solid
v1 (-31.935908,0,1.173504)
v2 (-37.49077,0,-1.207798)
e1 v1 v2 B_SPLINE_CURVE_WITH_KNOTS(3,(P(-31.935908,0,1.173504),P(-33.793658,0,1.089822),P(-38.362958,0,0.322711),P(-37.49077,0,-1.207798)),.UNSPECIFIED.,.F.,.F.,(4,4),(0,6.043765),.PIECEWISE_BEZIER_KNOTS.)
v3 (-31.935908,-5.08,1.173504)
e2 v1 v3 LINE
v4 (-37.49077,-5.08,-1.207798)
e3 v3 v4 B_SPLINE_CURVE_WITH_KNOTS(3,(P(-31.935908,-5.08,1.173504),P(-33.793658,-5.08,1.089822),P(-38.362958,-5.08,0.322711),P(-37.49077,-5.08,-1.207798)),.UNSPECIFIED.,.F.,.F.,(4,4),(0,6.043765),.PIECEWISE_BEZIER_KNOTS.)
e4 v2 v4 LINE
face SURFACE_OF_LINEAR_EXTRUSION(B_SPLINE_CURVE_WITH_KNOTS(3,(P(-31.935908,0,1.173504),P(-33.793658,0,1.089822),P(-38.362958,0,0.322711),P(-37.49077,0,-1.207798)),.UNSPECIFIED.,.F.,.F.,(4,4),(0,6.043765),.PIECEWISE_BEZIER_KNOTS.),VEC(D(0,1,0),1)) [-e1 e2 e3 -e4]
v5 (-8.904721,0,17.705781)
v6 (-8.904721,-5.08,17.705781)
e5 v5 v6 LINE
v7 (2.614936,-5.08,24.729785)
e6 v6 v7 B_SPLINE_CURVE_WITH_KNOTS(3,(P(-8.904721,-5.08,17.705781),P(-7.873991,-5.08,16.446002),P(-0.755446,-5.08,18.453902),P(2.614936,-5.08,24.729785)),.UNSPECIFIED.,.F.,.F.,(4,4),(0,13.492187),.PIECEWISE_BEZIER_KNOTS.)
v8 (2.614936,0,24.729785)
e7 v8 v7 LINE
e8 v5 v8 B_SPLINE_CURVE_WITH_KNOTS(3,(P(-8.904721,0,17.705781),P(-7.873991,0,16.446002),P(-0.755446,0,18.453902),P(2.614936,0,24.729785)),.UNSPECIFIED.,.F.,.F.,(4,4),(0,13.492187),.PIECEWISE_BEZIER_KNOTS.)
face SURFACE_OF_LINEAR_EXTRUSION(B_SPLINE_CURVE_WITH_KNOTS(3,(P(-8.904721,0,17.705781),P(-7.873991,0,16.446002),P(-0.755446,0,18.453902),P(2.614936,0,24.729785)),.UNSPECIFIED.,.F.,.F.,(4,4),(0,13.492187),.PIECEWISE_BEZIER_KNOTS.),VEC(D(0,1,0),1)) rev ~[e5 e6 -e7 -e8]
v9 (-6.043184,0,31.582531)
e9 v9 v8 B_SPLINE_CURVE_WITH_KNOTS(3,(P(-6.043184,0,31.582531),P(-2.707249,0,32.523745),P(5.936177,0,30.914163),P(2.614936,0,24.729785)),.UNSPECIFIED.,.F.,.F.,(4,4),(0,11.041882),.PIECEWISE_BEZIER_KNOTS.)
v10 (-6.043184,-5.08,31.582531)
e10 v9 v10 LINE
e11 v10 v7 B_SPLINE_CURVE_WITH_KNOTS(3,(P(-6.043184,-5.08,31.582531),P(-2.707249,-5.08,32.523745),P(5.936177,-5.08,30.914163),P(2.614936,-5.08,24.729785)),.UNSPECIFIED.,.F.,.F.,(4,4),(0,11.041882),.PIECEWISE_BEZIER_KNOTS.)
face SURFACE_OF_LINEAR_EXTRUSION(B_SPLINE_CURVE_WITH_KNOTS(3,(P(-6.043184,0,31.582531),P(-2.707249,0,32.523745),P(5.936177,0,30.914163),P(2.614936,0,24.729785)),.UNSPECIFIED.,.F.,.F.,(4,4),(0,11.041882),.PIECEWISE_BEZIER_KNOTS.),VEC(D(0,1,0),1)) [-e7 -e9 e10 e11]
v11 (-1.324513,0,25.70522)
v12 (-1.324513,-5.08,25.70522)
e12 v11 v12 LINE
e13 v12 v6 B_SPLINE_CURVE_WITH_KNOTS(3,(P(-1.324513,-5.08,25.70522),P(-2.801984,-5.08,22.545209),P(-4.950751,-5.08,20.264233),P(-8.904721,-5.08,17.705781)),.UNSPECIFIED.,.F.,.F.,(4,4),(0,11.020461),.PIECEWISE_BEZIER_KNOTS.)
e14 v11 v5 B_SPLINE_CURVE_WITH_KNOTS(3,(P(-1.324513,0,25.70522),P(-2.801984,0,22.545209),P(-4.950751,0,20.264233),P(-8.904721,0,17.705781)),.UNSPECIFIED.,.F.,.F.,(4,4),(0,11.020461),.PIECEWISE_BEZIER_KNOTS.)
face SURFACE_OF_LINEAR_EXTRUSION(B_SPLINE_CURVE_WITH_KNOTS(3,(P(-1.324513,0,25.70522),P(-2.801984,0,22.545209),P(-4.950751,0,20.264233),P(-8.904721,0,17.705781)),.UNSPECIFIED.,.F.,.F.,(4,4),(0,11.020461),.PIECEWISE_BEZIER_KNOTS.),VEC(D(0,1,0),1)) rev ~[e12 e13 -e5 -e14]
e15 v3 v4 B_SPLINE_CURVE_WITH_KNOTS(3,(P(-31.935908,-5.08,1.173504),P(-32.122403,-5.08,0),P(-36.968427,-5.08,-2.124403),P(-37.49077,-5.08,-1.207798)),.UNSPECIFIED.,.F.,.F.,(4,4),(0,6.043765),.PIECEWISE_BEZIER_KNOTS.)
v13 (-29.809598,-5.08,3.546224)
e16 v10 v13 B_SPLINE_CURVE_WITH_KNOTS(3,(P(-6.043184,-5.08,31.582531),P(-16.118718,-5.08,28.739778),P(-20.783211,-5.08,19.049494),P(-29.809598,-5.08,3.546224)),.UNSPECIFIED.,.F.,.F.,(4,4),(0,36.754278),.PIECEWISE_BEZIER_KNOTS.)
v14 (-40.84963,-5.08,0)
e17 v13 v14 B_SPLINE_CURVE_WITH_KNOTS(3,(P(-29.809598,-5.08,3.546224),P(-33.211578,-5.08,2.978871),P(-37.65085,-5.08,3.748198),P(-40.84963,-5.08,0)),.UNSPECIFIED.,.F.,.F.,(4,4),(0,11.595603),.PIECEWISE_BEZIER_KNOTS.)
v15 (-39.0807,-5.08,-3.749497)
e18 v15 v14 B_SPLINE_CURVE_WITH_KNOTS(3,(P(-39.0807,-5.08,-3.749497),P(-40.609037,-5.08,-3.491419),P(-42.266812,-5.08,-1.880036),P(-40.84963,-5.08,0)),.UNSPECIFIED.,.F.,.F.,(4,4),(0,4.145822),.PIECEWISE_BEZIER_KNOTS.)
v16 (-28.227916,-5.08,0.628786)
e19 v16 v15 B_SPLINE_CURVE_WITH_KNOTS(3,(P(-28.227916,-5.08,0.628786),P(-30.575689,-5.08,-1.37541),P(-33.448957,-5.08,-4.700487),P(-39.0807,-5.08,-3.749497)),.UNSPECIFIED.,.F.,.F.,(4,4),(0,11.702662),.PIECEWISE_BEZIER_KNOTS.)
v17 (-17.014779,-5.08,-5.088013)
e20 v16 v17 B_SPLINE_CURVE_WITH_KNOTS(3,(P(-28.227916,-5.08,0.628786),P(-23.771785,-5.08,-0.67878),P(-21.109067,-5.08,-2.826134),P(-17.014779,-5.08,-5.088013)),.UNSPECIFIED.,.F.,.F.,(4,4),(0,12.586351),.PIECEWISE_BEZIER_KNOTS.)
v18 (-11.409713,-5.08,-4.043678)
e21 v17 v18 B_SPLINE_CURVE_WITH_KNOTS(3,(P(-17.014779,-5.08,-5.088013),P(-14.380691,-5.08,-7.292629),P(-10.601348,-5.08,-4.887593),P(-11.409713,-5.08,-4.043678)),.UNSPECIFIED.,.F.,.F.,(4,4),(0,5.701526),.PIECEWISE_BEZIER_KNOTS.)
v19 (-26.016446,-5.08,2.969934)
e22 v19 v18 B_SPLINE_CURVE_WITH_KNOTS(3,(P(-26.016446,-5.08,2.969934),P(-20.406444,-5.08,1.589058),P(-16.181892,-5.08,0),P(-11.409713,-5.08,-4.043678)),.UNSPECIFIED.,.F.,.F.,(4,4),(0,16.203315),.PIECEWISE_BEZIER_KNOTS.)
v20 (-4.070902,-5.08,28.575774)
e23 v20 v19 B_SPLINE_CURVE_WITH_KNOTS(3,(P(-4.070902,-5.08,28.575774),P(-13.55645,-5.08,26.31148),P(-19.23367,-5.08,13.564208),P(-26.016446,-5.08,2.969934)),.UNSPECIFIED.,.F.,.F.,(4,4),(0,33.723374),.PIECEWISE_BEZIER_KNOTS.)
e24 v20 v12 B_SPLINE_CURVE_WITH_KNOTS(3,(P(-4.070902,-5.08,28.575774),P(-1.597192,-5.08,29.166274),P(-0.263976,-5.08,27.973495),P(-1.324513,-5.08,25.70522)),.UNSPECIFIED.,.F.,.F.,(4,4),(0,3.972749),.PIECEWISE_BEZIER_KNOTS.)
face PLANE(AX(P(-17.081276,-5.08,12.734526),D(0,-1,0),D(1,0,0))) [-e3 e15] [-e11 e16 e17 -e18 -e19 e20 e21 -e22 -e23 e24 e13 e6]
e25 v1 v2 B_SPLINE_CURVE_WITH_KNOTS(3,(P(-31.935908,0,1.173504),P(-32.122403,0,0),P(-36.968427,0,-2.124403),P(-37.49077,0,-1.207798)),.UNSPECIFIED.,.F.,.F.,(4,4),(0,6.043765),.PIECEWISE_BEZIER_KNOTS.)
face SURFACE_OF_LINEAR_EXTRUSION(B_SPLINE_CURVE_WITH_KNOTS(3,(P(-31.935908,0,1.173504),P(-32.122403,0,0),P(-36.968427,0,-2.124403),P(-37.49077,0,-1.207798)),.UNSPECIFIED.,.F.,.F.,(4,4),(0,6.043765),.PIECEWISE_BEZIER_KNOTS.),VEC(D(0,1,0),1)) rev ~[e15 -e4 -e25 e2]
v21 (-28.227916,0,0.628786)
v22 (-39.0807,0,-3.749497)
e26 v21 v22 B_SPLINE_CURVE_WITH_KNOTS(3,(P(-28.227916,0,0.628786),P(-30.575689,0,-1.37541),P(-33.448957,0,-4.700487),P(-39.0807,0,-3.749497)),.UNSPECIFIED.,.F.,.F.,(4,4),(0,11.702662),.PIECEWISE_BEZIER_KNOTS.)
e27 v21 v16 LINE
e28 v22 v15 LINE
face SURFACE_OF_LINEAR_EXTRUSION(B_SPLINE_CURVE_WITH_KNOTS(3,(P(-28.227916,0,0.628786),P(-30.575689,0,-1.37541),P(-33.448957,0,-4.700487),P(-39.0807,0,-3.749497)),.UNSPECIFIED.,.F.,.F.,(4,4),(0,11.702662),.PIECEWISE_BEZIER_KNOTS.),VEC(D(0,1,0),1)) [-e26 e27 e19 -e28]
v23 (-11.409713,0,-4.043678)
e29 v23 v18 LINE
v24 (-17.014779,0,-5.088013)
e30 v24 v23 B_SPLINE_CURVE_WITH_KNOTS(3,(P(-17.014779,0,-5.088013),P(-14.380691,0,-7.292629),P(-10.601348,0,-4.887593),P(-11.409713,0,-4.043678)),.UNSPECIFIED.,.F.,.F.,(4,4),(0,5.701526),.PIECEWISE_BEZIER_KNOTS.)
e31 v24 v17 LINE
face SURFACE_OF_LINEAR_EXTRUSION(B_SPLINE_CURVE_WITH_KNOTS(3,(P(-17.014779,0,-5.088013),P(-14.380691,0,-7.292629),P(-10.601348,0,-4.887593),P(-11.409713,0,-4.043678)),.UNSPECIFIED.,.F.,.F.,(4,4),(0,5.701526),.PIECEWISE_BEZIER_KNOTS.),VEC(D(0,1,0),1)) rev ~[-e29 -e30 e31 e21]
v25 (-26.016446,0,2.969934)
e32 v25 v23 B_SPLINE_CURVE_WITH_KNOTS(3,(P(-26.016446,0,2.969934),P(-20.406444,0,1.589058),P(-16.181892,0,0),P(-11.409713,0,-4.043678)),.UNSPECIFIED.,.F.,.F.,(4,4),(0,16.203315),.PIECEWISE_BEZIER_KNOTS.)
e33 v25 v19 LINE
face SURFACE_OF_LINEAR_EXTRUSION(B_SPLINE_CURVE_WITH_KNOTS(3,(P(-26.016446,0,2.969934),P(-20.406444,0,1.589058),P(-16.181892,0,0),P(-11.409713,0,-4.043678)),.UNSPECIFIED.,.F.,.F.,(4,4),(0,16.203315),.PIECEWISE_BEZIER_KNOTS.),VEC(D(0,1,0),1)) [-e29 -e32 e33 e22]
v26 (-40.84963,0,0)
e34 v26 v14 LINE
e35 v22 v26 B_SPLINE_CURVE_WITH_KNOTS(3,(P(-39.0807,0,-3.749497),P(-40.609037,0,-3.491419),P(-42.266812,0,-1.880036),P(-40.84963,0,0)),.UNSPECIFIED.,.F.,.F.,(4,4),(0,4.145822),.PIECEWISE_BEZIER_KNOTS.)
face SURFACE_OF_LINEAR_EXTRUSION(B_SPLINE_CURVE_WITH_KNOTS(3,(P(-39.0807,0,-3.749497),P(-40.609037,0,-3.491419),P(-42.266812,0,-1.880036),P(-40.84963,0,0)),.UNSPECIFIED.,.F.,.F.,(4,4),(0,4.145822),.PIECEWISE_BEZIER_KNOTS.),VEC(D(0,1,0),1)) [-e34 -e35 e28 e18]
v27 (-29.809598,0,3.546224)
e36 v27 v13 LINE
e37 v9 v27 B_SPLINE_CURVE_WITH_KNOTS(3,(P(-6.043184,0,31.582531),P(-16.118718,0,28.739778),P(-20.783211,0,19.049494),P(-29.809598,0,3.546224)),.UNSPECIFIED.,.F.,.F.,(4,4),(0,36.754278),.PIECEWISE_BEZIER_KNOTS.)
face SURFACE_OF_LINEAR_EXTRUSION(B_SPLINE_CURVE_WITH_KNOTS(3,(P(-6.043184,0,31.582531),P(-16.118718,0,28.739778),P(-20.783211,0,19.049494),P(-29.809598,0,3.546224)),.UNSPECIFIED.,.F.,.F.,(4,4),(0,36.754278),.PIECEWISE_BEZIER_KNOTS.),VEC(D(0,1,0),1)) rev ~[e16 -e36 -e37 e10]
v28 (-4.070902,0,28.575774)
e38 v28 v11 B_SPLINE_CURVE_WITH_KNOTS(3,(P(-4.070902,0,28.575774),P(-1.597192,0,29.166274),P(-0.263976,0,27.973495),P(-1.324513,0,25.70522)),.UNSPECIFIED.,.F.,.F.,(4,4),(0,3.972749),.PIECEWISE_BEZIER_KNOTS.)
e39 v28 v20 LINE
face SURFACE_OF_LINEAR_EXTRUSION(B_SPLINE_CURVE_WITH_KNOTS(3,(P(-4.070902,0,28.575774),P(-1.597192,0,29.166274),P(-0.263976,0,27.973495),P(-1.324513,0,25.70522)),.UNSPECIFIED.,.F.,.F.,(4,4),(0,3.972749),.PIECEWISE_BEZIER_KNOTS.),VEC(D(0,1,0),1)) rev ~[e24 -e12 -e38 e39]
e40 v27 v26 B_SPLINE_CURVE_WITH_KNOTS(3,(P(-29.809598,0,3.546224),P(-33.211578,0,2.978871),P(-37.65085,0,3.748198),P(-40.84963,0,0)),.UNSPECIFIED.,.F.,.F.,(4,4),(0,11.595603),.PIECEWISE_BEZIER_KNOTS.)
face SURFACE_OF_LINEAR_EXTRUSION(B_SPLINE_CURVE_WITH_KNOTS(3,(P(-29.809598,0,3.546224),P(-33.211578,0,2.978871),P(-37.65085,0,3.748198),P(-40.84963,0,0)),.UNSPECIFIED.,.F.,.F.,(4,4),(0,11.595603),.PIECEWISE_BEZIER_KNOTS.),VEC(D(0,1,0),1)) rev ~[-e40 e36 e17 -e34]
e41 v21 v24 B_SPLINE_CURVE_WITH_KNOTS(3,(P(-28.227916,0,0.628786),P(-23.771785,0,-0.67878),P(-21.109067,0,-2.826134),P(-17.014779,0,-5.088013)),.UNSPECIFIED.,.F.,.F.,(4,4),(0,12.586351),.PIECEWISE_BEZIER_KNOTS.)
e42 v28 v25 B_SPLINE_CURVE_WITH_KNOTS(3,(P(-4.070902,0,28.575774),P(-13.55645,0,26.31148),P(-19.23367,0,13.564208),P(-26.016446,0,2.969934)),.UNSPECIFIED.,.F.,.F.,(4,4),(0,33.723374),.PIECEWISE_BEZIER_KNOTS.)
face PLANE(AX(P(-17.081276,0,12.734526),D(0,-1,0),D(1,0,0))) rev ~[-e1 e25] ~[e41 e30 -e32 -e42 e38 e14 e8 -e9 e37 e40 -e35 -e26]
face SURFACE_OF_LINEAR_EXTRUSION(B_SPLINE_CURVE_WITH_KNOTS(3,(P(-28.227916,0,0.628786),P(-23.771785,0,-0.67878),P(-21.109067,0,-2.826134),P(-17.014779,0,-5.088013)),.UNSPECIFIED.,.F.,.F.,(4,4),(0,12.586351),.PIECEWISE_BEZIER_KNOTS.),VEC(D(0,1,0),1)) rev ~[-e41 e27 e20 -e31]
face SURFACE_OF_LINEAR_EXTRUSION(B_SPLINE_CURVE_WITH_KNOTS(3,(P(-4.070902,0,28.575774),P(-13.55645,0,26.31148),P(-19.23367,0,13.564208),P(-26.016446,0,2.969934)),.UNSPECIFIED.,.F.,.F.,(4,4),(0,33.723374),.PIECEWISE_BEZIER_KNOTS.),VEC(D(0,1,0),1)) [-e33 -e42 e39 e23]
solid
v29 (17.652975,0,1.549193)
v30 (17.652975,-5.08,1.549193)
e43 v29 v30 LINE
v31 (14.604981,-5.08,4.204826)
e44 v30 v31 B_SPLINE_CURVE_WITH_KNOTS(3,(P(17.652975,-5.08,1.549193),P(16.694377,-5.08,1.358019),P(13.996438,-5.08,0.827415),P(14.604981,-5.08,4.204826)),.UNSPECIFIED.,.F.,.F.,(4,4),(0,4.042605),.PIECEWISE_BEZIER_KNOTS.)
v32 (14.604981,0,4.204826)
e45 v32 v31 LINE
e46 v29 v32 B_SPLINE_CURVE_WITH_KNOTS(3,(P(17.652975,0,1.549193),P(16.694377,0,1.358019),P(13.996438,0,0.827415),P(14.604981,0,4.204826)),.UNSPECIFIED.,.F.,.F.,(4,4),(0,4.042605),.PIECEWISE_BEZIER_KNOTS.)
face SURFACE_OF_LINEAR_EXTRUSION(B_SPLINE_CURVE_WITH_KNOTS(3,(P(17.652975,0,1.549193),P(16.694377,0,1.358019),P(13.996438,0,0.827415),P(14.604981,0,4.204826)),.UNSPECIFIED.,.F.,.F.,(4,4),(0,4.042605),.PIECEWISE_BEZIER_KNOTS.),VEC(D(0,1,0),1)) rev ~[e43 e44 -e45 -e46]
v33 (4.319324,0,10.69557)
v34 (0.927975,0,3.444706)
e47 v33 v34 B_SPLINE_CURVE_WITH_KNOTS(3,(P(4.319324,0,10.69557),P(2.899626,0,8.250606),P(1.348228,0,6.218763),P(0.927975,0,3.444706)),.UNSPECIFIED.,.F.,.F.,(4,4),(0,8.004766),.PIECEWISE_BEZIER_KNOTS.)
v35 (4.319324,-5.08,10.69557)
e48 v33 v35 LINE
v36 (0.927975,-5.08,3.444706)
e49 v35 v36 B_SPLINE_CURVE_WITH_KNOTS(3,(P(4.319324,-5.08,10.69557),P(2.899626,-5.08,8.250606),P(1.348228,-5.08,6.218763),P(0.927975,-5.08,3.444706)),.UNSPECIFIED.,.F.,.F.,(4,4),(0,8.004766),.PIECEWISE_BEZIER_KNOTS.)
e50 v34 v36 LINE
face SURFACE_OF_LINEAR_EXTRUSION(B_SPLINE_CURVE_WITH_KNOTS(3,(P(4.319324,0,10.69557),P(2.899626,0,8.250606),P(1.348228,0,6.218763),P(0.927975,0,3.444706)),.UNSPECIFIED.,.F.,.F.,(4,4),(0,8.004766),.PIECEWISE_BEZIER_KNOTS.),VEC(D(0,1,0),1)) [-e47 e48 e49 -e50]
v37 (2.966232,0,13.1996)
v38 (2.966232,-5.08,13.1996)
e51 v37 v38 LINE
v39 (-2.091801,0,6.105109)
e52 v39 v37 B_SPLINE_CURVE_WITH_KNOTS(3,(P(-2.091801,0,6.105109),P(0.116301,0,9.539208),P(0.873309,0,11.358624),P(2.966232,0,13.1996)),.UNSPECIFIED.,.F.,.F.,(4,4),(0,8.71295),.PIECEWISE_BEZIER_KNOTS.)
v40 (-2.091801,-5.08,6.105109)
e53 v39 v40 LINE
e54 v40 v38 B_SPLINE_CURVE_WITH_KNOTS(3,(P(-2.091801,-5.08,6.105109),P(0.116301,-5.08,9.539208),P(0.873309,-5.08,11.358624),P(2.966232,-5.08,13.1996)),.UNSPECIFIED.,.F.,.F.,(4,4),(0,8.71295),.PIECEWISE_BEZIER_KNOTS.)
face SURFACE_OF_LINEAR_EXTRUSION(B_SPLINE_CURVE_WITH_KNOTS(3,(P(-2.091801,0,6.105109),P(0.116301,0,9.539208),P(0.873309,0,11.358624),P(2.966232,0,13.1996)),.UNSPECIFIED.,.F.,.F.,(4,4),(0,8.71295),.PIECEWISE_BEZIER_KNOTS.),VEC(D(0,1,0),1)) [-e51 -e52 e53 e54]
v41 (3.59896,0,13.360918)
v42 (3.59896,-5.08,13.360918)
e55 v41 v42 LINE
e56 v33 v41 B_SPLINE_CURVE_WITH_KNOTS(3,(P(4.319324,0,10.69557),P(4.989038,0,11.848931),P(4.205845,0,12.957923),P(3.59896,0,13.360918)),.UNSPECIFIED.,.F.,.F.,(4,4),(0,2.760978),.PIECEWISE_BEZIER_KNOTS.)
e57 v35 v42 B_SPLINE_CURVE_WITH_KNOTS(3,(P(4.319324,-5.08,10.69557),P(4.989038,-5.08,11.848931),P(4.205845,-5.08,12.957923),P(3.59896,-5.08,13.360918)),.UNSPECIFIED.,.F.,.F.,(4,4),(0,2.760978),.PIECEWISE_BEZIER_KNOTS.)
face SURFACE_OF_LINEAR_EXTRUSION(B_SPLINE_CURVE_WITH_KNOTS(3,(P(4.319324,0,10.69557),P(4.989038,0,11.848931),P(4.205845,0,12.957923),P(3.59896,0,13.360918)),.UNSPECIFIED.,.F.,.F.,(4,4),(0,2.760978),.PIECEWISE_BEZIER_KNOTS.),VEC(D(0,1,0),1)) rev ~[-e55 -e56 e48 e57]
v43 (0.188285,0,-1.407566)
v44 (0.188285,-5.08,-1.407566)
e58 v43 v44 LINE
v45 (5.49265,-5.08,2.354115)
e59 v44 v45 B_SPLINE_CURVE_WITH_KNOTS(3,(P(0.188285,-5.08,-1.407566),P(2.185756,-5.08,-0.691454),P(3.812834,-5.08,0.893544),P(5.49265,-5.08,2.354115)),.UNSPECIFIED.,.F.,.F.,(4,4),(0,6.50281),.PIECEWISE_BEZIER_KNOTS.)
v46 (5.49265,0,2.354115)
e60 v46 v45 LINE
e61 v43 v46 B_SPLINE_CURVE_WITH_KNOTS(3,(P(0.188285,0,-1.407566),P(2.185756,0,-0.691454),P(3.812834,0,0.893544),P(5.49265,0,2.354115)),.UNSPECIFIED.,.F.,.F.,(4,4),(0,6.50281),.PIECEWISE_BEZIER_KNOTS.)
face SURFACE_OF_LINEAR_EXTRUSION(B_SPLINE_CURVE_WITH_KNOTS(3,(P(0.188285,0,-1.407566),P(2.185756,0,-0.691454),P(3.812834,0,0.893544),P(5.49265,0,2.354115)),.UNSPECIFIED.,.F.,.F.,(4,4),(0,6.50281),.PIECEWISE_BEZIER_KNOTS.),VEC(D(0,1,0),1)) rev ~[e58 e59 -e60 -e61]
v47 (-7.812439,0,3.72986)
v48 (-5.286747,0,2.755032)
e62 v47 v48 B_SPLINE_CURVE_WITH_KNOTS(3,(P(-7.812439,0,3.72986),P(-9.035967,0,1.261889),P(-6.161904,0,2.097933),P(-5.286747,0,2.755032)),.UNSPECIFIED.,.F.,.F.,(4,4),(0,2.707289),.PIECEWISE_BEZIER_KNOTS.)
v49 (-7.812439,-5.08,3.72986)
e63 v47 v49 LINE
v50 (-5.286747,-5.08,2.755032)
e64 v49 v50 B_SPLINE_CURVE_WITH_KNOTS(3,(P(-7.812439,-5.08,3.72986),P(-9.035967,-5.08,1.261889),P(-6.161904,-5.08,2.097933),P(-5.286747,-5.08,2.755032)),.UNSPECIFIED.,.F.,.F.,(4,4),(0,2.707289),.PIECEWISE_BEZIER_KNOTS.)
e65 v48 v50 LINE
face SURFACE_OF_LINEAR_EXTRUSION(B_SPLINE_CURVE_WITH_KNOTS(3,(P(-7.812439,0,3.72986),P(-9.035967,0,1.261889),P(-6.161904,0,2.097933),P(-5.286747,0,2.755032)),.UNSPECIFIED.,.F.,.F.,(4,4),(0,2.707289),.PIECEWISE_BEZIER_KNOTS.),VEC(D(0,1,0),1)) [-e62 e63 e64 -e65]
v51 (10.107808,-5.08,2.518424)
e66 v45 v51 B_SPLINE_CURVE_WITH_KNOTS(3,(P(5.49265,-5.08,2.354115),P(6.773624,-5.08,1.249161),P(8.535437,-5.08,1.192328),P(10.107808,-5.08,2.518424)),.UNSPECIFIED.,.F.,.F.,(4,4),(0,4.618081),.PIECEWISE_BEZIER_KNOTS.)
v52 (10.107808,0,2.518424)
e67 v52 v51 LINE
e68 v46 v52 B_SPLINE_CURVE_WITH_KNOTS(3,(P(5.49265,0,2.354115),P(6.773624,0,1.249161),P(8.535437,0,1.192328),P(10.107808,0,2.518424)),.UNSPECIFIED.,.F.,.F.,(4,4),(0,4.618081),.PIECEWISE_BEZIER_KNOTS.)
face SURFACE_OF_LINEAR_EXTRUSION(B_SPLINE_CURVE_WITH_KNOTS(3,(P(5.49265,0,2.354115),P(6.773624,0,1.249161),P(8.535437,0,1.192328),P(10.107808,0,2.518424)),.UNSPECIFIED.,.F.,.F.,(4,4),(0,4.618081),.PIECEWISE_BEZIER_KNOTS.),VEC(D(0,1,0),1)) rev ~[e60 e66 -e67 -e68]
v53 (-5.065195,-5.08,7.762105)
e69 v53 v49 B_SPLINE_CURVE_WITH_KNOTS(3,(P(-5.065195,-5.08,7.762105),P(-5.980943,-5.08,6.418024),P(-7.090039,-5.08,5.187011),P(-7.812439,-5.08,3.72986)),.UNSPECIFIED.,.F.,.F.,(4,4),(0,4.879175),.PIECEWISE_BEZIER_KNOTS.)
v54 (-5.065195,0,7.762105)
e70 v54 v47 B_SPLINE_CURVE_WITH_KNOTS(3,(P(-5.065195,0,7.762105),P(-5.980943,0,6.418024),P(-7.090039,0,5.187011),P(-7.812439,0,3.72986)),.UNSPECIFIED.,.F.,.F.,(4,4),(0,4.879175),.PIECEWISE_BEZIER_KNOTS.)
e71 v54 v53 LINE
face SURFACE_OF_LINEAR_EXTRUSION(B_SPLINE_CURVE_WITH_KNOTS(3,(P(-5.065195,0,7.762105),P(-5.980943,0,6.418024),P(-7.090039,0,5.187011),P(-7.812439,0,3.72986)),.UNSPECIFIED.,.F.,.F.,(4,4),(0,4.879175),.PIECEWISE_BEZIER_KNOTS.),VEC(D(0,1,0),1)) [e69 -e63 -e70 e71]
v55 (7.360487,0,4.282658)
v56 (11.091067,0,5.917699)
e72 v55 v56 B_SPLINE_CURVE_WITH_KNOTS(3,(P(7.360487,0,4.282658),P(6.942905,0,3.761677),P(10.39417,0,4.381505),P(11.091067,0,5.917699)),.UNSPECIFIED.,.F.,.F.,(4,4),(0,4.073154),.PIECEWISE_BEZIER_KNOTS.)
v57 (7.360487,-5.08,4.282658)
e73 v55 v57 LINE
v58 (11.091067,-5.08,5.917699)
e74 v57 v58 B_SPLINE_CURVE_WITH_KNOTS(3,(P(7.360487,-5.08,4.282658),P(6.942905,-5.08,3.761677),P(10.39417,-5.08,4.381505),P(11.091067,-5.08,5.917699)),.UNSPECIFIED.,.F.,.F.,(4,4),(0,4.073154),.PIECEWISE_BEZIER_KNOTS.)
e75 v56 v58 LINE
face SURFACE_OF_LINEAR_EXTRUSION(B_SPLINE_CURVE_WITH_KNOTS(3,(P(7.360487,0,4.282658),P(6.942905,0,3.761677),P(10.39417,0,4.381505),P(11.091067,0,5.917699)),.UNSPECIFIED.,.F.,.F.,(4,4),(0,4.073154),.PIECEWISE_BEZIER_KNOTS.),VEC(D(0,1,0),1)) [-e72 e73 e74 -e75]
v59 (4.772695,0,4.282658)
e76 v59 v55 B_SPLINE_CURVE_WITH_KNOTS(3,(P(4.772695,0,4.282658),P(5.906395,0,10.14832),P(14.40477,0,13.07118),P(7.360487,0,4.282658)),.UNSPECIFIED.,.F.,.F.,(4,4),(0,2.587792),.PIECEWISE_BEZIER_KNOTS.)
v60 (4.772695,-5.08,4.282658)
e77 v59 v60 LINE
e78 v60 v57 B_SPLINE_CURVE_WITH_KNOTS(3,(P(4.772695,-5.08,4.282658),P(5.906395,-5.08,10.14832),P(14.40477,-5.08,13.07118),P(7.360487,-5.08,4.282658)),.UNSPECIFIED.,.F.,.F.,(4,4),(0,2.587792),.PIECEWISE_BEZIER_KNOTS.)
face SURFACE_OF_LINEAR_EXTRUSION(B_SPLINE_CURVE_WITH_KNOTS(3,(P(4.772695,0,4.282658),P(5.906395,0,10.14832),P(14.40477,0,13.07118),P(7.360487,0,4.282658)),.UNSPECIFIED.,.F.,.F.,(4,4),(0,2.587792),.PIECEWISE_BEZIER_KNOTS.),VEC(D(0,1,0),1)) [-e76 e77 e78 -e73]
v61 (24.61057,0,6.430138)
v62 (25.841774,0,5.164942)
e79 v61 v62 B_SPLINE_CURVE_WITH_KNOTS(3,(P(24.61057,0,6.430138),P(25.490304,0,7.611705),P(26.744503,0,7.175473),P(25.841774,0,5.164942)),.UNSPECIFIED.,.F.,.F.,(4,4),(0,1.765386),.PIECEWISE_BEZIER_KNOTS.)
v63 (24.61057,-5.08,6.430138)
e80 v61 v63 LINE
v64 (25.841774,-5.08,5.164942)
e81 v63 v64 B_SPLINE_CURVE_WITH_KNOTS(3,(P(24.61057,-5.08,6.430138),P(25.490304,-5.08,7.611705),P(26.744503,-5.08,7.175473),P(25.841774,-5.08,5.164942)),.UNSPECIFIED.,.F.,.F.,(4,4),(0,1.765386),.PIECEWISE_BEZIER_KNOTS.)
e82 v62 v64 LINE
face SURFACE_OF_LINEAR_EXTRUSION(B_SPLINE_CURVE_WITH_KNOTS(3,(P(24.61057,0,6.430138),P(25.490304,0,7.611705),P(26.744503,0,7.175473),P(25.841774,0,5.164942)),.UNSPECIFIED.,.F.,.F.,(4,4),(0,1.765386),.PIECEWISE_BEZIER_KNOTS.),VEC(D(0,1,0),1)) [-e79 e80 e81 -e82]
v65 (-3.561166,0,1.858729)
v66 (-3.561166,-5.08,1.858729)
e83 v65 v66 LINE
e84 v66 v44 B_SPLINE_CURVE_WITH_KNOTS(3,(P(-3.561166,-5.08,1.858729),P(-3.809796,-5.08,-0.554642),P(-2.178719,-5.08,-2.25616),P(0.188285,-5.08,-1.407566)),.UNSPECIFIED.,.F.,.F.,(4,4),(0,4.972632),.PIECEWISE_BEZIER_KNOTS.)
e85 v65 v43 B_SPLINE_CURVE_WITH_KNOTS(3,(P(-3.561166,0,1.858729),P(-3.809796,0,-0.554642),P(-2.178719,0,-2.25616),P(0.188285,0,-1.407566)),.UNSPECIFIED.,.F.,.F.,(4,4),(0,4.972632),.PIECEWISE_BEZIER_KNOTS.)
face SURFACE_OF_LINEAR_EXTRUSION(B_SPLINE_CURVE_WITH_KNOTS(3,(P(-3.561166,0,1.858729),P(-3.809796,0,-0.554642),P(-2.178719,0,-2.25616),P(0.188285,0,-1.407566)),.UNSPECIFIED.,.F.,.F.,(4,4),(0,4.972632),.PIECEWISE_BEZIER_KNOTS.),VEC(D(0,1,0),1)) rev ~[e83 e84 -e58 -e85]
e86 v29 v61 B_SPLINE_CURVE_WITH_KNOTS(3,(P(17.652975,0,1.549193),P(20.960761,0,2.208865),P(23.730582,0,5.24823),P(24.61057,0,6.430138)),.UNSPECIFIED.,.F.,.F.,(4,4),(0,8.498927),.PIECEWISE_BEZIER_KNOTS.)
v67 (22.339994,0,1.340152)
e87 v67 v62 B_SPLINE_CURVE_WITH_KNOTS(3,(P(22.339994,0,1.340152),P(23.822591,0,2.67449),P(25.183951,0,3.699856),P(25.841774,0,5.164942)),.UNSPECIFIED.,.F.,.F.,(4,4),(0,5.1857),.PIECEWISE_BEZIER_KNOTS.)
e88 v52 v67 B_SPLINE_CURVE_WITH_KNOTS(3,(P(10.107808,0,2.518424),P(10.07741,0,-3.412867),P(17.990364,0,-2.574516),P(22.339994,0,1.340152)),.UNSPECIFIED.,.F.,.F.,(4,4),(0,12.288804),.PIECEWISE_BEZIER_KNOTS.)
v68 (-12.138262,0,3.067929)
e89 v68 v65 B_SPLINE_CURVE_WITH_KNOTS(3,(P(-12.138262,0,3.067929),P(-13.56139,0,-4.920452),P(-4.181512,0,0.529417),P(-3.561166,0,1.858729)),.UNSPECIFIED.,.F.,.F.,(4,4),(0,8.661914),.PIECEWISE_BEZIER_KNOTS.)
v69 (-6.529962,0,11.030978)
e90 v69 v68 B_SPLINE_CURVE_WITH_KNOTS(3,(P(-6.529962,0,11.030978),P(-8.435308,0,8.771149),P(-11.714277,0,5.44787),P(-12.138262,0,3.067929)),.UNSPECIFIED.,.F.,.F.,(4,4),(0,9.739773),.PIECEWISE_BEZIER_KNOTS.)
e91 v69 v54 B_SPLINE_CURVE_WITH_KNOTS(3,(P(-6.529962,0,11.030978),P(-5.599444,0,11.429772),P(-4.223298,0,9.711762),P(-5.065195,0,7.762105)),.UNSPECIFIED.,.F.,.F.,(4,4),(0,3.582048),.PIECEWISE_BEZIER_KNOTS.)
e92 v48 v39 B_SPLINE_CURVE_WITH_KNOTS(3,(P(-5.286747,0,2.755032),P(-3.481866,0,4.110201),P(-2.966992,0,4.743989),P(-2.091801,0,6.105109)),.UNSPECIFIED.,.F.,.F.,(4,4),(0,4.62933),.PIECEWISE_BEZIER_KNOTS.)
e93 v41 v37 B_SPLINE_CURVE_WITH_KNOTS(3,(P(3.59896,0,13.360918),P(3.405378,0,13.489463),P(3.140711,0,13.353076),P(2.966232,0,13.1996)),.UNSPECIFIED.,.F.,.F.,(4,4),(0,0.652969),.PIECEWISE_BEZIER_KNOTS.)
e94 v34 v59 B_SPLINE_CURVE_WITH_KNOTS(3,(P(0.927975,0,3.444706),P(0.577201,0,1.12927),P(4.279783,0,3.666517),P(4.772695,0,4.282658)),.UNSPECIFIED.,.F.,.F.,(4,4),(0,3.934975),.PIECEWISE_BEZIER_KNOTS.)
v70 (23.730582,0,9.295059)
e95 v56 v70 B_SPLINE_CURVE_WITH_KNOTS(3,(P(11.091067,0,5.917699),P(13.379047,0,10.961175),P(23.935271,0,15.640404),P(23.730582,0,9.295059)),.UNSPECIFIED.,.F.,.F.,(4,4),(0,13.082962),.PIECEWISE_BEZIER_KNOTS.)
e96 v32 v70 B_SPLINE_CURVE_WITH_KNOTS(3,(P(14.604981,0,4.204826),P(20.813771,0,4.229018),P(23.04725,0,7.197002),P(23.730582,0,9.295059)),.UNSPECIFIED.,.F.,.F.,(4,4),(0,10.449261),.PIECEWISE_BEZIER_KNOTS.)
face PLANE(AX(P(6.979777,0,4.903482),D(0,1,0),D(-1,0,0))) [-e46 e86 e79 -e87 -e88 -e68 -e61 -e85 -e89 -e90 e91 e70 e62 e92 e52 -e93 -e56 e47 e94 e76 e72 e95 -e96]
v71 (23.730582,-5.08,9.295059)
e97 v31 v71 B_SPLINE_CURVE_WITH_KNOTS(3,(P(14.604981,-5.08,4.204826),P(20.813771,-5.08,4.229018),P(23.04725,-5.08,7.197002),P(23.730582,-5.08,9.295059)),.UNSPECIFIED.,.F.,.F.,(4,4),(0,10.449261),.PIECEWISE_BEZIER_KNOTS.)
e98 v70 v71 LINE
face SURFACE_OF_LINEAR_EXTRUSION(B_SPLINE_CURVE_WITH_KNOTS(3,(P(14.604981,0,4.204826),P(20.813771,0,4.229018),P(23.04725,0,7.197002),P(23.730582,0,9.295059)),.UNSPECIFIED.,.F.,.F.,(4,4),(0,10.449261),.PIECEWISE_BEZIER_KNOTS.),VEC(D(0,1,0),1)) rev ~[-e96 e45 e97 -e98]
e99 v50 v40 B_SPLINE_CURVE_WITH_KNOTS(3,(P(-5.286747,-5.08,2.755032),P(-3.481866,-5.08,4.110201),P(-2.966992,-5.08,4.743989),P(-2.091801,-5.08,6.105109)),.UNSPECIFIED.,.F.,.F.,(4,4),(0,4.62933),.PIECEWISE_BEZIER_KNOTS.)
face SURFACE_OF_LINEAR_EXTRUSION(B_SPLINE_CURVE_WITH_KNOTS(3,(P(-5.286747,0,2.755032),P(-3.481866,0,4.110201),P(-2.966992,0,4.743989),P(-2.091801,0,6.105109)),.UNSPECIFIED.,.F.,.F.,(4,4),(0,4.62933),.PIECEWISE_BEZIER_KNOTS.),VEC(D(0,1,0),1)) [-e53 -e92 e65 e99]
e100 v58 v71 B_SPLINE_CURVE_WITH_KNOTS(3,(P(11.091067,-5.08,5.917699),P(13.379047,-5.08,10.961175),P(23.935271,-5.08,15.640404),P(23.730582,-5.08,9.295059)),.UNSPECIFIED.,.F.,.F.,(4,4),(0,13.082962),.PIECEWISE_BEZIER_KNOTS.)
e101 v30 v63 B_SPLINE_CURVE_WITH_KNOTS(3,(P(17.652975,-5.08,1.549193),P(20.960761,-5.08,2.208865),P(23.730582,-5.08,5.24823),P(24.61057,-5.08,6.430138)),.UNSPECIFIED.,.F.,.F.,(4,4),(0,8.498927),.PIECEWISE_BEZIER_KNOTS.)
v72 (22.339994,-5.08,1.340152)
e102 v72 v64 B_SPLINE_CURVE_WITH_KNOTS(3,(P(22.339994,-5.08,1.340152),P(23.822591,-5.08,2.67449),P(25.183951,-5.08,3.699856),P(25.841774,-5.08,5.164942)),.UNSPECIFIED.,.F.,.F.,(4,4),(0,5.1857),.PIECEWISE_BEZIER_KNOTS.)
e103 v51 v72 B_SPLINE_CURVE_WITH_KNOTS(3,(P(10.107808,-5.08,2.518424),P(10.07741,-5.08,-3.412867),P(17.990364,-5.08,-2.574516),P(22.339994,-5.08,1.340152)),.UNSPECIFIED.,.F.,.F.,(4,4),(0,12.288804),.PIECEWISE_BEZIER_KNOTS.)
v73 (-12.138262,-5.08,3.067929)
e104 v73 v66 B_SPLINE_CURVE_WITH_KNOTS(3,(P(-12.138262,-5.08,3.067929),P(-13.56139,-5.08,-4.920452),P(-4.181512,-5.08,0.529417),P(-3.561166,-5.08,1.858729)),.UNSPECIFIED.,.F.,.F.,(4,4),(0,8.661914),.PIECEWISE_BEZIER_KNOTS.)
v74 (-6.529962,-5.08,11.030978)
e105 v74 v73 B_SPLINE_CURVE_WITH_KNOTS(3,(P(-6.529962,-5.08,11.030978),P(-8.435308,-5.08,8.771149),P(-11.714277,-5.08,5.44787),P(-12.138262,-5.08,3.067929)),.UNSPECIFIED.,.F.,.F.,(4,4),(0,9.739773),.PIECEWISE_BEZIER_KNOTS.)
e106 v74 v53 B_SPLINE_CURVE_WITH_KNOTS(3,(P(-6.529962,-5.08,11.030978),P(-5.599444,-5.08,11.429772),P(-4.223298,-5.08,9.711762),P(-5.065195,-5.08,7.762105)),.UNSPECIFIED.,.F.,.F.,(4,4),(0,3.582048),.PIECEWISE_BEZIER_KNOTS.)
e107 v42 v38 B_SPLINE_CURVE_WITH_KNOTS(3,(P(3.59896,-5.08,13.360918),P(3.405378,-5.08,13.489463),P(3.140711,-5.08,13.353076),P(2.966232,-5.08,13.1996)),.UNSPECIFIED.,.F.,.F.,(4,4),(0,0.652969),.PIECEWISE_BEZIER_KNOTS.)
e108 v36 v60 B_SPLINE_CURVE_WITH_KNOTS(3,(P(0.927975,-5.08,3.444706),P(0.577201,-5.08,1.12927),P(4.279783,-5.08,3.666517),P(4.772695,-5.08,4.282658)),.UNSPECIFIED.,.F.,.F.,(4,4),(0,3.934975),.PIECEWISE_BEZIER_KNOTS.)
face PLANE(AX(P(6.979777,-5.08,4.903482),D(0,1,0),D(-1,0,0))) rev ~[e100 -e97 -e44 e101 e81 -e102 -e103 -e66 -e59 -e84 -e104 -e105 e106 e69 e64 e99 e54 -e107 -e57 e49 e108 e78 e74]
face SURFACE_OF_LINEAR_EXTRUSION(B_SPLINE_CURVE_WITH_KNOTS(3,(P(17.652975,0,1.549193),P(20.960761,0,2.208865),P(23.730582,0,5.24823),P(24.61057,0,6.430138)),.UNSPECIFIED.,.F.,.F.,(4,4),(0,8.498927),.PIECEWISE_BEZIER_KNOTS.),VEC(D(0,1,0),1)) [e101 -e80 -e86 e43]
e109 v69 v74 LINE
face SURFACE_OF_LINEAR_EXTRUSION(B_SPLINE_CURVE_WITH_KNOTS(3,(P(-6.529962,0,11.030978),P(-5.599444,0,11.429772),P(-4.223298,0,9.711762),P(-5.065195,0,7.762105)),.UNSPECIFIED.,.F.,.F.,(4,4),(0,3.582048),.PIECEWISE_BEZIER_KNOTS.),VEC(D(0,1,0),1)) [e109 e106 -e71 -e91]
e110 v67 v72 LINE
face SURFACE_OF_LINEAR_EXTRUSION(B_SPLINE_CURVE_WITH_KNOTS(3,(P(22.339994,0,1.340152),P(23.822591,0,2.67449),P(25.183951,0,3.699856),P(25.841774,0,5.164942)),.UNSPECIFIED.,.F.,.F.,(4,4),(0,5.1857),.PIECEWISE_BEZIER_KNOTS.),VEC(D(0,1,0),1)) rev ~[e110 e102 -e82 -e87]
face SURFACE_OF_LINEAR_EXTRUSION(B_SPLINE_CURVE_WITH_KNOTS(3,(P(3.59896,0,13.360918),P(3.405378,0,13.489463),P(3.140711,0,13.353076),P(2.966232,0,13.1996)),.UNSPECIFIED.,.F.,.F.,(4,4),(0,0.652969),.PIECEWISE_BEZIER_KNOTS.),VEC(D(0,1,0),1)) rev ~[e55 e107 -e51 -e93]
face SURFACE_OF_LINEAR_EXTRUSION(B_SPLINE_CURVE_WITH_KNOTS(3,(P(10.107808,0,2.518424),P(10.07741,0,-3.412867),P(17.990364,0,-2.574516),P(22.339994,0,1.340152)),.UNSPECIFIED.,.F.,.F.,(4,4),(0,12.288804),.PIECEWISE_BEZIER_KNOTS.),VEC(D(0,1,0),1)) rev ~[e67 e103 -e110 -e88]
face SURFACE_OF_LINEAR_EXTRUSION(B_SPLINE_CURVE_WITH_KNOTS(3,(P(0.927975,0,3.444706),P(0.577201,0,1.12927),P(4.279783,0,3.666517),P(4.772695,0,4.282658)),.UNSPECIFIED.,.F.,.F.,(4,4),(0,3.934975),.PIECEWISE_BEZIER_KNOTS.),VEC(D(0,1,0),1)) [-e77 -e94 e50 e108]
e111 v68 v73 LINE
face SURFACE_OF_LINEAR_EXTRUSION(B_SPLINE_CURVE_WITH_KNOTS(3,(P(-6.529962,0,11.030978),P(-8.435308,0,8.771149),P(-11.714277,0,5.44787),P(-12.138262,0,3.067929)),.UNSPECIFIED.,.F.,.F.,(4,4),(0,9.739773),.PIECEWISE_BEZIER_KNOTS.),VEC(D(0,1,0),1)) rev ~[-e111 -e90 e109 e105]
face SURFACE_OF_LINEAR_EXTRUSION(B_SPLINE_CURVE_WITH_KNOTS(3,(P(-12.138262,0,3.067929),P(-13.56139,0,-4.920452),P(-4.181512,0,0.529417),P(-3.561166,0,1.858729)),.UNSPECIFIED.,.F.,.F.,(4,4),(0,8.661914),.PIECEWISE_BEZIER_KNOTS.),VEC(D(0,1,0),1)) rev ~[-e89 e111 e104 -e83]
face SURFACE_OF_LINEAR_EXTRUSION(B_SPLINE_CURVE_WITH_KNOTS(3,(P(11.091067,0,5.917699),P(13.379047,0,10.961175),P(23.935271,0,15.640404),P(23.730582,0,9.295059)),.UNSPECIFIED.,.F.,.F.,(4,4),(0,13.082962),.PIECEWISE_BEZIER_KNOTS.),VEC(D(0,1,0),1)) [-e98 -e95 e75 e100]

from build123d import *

# Parameters (mm, degrees)
F1_DEPTH = 5.08
F3_DEPTH = 5.08


with BuildPart() as f1:
    # F0 (on Front) → F1 (new body)
    with BuildSketch(Plane.XZ):
        with BuildLine():
            add(Edge.make_bspline(
                [(-1.324513, 25.70522), (-2.801984, 22.545209), (-4.950751, 20.264233), (-8.904721, 17.705781)],
                knots=[0, 0, 0, 0, 11.020461, 11.020461, 11.020461, 11.020461], degree=3))
            add(Edge.make_bspline(
                [(-8.904721, 17.705781), (-7.873991, 16.446002), (-0.755446, 18.453902), (2.614936, 24.729785)],
                knots=[0, 0, 0, 0, 13.492187, 13.492187, 13.492187, 13.492187], degree=3))
            add(Edge.make_bspline(
                [(-6.043184, 31.582531), (-2.707249, 32.523745), (5.936177, 30.914163), (2.614936, 24.729785)],
                knots=[0, 0, 0, 0, 11.041882, 11.041882, 11.041882, 11.041882], degree=3))
            add(Edge.make_bspline(
                [(-6.043184, 31.582531), (-16.118718, 28.739778), (-20.783211, 19.049494), (-29.809598, 3.546224)],
                knots=[0, 0, 0, 0, 36.754278, 36.754278, 36.754278, 36.754278], degree=3))
            add(Edge.make_bspline(
                [(-29.809598, 3.546224), (-33.211578, 2.978871), (-37.65085, 3.748198), (-40.84963, 0)],
                knots=[0, 0, 0, 0, 11.595603, 11.595603, 11.595603, 11.595603], degree=3))
            add(Edge.make_bspline(
                [(-39.0807, -3.749497), (-40.609037, -3.491419), (-42.266812, -1.880036), (-40.84963, 0)],
                knots=[0, 0, 0, 0, 4.145822, 4.145822, 4.145822, 4.145822], degree=3))
            add(Edge.make_bspline(
                [(-28.227916, 0.628786), (-30.575689, -1.37541), (-33.448957, -4.700487), (-39.0807, -3.749497)],
                knots=[0, 0, 0, 0, 11.702662, 11.702662, 11.702662, 11.702662], degree=3))
            add(Edge.make_bspline(
                [(-28.227916, 0.628786), (-23.771785, -0.67878), (-21.109067, -2.826134), (-17.014779, -5.088013)],
                knots=[0, 0, 0, 0, 12.586351, 12.586351, 12.586351, 12.586351], degree=3))
            add(Edge.make_bspline(
                [(-17.014779, -5.088013), (-14.380691, -7.292629), (-10.601348, -4.887593), (-11.409713, -4.043678)],
                knots=[0, 0, 0, 0, 5.701526, 5.701526, 5.701526, 5.701526], degree=3))
            add(Edge.make_bspline(
                [(-26.016446, 2.969934), (-20.406444, 1.589058), (-16.181892, 0), (-11.409713, -4.043678)],
                knots=[0, 0, 0, 0, 16.203315, 16.203315, 16.203315, 16.203315], degree=3))
            add(Edge.make_bspline(
                [(-4.070902, 28.575774), (-13.55645, 26.31148), (-19.23367, 13.564208), (-26.016446, 2.969934)],
                knots=[0, 0, 0, 0, 33.723374, 33.723374, 33.723374, 33.723374], degree=3))
            add(Edge.make_bspline(
                [(-4.070902, 28.575774), (-1.597192, 29.166274), (-0.263976, 27.973495), (-1.324513, 25.70522)],
                knots=[0, 0, 0, 0, 3.972749, 3.972749, 3.972749, 3.972749], degree=3))
        make_face()
        with BuildLine():
            add(Edge.make_bspline(
                [(-31.935908, 1.173504), (-33.793658, 1.089822), (-38.362958, 0.322711), (-37.49077, -1.207798)],
                knots=[0, 0, 0, 0, 6.043765, 6.043765, 6.043765, 6.043765], degree=3))
            add(Edge.make_bspline(
                [(-31.935908, 1.173504), (-32.122403, 0), (-36.968427, -2.124403), (-37.49077, -1.207798)],
                knots=[0, 0, 0, 0, 6.043765, 6.043765, 6.043765, 6.043765], degree=3))
        make_face(mode=Mode.SUBTRACT)
    extrude(amount=F1_DEPTH)


with BuildPart() as f3:
    # F2 (on Front) → F3 (new body, through all)
    with BuildSketch(Plane.XZ):
        with BuildLine():
            add(Edge.make_bspline(
                [(-6.529962, 11.030978), (-5.599444, 11.429772), (-4.223298, 9.711762), (-5.065195, 7.762105)],
                knots=[0, 0, 0, 0, 3.582048, 3.582048, 3.582048, 3.582048], degree=3))
            add(Edge.make_bspline(
                [(-6.529962, 11.030978), (-8.435308, 8.771149), (-11.714277, 5.44787), (-12.138262, 3.067929)],
                knots=[0, 0, 0, 0, 9.739773, 9.739773, 9.739773, 9.739773], degree=3))
            add(Edge.make_bspline(
                [(-12.138262, 3.067929), (-13.56139, -4.920452), (-4.181512, 0.529417), (-3.561166, 1.858729)],
                knots=[0, 0, 0, 0, 8.661914, 8.661914, 8.661914, 8.661914], degree=3))
            add(Edge.make_bspline(
                [(-3.561166, 1.858729), (-3.809796, -0.554642), (-2.178719, -2.25616), (0.188285, -1.407566)],
                knots=[0, 0, 0, 0, 4.972632, 4.972632, 4.972632, 4.972632], degree=3))
            add(Edge.make_bspline(
                [(0.188285, -1.407566), (2.185756, -0.691454), (3.812834, 0.893544), (5.49265, 2.354115)],
                knots=[0, 0, 0, 0, 6.50281, 6.50281, 6.50281, 6.50281], degree=3))
            add(Edge.make_bspline(
                [(5.49265, 2.354115), (6.773624, 1.249161), (8.535437, 1.192328), (10.107808, 2.518424)],
                knots=[0, 0, 0, 0, 4.618081, 4.618081, 4.618081, 4.618081], degree=3))
            add(Edge.make_bspline(
                [(10.107808, 2.518424), (10.07741, -3.412867), (17.990364, -2.574516), (22.339994, 1.340152)],
                knots=[0, 0, 0, 0, 12.288804, 12.288804, 12.288804, 12.288804], degree=3))
            add(Edge.make_bspline(
                [(22.339994, 1.340152), (23.822591, 2.67449), (25.183951, 3.699856), (25.841774, 5.164942)],
                knots=[0, 0, 0, 0, 5.1857, 5.1857, 5.1857, 5.1857], degree=3))
            add(Edge.make_bspline(
                [(24.61057, 6.430138), (25.490304, 7.611705), (26.744503, 7.175473), (25.841774, 5.164942)],
                knots=[0, 0, 0, 0, 1.765386, 1.765386, 1.765386, 1.765386], degree=3))
            add(Edge.make_bspline(
                [(17.652975, 1.549193), (20.960761, 2.208865), (23.730582, 5.24823), (24.61057, 6.430138)],
                knots=[0, 0, 0, 0, 8.498927, 8.498927, 8.498927, 8.498927], degree=3))
            add(Edge.make_bspline(
                [(17.652975, 1.549193), (16.694377, 1.358019), (13.996438, 0.827415), (14.604981, 4.204826)],
                knots=[0, 0, 0, 0, 4.042605, 4.042605, 4.042605, 4.042605], degree=3))
            add(Edge.make_bspline(
                [(14.604981, 4.204826), (20.813771, 4.229018), (23.04725, 7.197002), (23.730582, 9.295059)],
                knots=[0, 0, 0, 0, 10.449261, 10.449261, 10.449261, 10.449261], degree=3))
            add(Edge.make_bspline(
                [(11.091067, 5.917699), (13.379047, 10.961175), (23.935271, 15.640404), (23.730582, 9.295059)],
                knots=[0, 0, 0, 0, 13.082962, 13.082962, 13.082962, 13.082962], degree=3))
            add(Edge.make_bspline(
                [(7.360487, 4.282658), (6.942905, 3.761677), (10.39417, 4.381505), (11.091067, 5.917699)],
                knots=[0, 0, 0, 0, 4.073154, 4.073154, 4.073154, 4.073154], degree=3))
            add(Edge.make_bspline(
                [(4.772695, 4.282658), (5.906395, 10.14832), (14.40477, 13.07118), (7.360487, 4.282658)],
                knots=[0, 0, 0, 0, 2.587792, 2.587792, 2.587792, 2.587792], degree=3))
            add(Edge.make_bspline(
                [(0.927975, 3.444706), (0.577201, 1.12927), (4.279783, 3.666517), (4.772695, 4.282658)],
                knots=[0, 0, 0, 0, 3.934975, 3.934975, 3.934975, 3.934975], degree=3))
            add(Edge.make_bspline(
                [(4.319324, 10.69557), (2.899626, 8.250606), (1.348228, 6.218763), (0.927975, 3.444706)],
                knots=[0, 0, 0, 0, 8.004766, 8.004766, 8.004766, 8.004766], degree=3))
            add(Edge.make_bspline(
                [(4.319324, 10.69557), (4.989038, 11.848931), (4.205845, 12.957923), (3.59896, 13.360918)],
                knots=[0, 0, 0, 0, 2.760978, 2.760978, 2.760978, 2.760978], degree=3))
            add(Edge.make_bspline(
                [(3.59896, 13.360918), (3.405378, 13.489463), (3.140711, 13.353076), (2.966232, 13.1996)],
                knots=[0, 0, 0, 0, 0.652969, 0.652969, 0.652969, 0.652969], degree=3))
            add(Edge.make_bspline(
                [(-2.091801, 6.105109), (0.116301, 9.539208), (0.873309, 11.358624), (2.966232, 13.1996)],
                knots=[0, 0, 0, 0, 8.71295, 8.71295, 8.71295, 8.71295], degree=3))
            add(Edge.make_bspline(
                [(-5.286747, 2.755032), (-3.481866, 4.110201), (-2.966992, 4.743989), (-2.091801, 6.105109)],
                knots=[0, 0, 0, 0, 4.62933, 4.62933, 4.62933, 4.62933], degree=3))
            add(Edge.make_bspline(
                [(-7.812439, 3.72986), (-9.035967, 1.261889), (-6.161904, 2.097933), (-5.286747, 2.755032)],
                knots=[0, 0, 0, 0, 2.707289, 2.707289, 2.707289, 2.707289], degree=3))
            add(Edge.make_bspline(
                [(-5.065195, 7.762105), (-5.980943, 6.418024), (-7.090039, 5.187011), (-7.812439, 3.72986)],
                knots=[0, 0, 0, 0, 4.879175, 4.879175, 4.879175, 4.879175], degree=3))
        make_face()
    extrude(amount=F3_DEPTH)


solid = Compound([f1.part, f3.part])
